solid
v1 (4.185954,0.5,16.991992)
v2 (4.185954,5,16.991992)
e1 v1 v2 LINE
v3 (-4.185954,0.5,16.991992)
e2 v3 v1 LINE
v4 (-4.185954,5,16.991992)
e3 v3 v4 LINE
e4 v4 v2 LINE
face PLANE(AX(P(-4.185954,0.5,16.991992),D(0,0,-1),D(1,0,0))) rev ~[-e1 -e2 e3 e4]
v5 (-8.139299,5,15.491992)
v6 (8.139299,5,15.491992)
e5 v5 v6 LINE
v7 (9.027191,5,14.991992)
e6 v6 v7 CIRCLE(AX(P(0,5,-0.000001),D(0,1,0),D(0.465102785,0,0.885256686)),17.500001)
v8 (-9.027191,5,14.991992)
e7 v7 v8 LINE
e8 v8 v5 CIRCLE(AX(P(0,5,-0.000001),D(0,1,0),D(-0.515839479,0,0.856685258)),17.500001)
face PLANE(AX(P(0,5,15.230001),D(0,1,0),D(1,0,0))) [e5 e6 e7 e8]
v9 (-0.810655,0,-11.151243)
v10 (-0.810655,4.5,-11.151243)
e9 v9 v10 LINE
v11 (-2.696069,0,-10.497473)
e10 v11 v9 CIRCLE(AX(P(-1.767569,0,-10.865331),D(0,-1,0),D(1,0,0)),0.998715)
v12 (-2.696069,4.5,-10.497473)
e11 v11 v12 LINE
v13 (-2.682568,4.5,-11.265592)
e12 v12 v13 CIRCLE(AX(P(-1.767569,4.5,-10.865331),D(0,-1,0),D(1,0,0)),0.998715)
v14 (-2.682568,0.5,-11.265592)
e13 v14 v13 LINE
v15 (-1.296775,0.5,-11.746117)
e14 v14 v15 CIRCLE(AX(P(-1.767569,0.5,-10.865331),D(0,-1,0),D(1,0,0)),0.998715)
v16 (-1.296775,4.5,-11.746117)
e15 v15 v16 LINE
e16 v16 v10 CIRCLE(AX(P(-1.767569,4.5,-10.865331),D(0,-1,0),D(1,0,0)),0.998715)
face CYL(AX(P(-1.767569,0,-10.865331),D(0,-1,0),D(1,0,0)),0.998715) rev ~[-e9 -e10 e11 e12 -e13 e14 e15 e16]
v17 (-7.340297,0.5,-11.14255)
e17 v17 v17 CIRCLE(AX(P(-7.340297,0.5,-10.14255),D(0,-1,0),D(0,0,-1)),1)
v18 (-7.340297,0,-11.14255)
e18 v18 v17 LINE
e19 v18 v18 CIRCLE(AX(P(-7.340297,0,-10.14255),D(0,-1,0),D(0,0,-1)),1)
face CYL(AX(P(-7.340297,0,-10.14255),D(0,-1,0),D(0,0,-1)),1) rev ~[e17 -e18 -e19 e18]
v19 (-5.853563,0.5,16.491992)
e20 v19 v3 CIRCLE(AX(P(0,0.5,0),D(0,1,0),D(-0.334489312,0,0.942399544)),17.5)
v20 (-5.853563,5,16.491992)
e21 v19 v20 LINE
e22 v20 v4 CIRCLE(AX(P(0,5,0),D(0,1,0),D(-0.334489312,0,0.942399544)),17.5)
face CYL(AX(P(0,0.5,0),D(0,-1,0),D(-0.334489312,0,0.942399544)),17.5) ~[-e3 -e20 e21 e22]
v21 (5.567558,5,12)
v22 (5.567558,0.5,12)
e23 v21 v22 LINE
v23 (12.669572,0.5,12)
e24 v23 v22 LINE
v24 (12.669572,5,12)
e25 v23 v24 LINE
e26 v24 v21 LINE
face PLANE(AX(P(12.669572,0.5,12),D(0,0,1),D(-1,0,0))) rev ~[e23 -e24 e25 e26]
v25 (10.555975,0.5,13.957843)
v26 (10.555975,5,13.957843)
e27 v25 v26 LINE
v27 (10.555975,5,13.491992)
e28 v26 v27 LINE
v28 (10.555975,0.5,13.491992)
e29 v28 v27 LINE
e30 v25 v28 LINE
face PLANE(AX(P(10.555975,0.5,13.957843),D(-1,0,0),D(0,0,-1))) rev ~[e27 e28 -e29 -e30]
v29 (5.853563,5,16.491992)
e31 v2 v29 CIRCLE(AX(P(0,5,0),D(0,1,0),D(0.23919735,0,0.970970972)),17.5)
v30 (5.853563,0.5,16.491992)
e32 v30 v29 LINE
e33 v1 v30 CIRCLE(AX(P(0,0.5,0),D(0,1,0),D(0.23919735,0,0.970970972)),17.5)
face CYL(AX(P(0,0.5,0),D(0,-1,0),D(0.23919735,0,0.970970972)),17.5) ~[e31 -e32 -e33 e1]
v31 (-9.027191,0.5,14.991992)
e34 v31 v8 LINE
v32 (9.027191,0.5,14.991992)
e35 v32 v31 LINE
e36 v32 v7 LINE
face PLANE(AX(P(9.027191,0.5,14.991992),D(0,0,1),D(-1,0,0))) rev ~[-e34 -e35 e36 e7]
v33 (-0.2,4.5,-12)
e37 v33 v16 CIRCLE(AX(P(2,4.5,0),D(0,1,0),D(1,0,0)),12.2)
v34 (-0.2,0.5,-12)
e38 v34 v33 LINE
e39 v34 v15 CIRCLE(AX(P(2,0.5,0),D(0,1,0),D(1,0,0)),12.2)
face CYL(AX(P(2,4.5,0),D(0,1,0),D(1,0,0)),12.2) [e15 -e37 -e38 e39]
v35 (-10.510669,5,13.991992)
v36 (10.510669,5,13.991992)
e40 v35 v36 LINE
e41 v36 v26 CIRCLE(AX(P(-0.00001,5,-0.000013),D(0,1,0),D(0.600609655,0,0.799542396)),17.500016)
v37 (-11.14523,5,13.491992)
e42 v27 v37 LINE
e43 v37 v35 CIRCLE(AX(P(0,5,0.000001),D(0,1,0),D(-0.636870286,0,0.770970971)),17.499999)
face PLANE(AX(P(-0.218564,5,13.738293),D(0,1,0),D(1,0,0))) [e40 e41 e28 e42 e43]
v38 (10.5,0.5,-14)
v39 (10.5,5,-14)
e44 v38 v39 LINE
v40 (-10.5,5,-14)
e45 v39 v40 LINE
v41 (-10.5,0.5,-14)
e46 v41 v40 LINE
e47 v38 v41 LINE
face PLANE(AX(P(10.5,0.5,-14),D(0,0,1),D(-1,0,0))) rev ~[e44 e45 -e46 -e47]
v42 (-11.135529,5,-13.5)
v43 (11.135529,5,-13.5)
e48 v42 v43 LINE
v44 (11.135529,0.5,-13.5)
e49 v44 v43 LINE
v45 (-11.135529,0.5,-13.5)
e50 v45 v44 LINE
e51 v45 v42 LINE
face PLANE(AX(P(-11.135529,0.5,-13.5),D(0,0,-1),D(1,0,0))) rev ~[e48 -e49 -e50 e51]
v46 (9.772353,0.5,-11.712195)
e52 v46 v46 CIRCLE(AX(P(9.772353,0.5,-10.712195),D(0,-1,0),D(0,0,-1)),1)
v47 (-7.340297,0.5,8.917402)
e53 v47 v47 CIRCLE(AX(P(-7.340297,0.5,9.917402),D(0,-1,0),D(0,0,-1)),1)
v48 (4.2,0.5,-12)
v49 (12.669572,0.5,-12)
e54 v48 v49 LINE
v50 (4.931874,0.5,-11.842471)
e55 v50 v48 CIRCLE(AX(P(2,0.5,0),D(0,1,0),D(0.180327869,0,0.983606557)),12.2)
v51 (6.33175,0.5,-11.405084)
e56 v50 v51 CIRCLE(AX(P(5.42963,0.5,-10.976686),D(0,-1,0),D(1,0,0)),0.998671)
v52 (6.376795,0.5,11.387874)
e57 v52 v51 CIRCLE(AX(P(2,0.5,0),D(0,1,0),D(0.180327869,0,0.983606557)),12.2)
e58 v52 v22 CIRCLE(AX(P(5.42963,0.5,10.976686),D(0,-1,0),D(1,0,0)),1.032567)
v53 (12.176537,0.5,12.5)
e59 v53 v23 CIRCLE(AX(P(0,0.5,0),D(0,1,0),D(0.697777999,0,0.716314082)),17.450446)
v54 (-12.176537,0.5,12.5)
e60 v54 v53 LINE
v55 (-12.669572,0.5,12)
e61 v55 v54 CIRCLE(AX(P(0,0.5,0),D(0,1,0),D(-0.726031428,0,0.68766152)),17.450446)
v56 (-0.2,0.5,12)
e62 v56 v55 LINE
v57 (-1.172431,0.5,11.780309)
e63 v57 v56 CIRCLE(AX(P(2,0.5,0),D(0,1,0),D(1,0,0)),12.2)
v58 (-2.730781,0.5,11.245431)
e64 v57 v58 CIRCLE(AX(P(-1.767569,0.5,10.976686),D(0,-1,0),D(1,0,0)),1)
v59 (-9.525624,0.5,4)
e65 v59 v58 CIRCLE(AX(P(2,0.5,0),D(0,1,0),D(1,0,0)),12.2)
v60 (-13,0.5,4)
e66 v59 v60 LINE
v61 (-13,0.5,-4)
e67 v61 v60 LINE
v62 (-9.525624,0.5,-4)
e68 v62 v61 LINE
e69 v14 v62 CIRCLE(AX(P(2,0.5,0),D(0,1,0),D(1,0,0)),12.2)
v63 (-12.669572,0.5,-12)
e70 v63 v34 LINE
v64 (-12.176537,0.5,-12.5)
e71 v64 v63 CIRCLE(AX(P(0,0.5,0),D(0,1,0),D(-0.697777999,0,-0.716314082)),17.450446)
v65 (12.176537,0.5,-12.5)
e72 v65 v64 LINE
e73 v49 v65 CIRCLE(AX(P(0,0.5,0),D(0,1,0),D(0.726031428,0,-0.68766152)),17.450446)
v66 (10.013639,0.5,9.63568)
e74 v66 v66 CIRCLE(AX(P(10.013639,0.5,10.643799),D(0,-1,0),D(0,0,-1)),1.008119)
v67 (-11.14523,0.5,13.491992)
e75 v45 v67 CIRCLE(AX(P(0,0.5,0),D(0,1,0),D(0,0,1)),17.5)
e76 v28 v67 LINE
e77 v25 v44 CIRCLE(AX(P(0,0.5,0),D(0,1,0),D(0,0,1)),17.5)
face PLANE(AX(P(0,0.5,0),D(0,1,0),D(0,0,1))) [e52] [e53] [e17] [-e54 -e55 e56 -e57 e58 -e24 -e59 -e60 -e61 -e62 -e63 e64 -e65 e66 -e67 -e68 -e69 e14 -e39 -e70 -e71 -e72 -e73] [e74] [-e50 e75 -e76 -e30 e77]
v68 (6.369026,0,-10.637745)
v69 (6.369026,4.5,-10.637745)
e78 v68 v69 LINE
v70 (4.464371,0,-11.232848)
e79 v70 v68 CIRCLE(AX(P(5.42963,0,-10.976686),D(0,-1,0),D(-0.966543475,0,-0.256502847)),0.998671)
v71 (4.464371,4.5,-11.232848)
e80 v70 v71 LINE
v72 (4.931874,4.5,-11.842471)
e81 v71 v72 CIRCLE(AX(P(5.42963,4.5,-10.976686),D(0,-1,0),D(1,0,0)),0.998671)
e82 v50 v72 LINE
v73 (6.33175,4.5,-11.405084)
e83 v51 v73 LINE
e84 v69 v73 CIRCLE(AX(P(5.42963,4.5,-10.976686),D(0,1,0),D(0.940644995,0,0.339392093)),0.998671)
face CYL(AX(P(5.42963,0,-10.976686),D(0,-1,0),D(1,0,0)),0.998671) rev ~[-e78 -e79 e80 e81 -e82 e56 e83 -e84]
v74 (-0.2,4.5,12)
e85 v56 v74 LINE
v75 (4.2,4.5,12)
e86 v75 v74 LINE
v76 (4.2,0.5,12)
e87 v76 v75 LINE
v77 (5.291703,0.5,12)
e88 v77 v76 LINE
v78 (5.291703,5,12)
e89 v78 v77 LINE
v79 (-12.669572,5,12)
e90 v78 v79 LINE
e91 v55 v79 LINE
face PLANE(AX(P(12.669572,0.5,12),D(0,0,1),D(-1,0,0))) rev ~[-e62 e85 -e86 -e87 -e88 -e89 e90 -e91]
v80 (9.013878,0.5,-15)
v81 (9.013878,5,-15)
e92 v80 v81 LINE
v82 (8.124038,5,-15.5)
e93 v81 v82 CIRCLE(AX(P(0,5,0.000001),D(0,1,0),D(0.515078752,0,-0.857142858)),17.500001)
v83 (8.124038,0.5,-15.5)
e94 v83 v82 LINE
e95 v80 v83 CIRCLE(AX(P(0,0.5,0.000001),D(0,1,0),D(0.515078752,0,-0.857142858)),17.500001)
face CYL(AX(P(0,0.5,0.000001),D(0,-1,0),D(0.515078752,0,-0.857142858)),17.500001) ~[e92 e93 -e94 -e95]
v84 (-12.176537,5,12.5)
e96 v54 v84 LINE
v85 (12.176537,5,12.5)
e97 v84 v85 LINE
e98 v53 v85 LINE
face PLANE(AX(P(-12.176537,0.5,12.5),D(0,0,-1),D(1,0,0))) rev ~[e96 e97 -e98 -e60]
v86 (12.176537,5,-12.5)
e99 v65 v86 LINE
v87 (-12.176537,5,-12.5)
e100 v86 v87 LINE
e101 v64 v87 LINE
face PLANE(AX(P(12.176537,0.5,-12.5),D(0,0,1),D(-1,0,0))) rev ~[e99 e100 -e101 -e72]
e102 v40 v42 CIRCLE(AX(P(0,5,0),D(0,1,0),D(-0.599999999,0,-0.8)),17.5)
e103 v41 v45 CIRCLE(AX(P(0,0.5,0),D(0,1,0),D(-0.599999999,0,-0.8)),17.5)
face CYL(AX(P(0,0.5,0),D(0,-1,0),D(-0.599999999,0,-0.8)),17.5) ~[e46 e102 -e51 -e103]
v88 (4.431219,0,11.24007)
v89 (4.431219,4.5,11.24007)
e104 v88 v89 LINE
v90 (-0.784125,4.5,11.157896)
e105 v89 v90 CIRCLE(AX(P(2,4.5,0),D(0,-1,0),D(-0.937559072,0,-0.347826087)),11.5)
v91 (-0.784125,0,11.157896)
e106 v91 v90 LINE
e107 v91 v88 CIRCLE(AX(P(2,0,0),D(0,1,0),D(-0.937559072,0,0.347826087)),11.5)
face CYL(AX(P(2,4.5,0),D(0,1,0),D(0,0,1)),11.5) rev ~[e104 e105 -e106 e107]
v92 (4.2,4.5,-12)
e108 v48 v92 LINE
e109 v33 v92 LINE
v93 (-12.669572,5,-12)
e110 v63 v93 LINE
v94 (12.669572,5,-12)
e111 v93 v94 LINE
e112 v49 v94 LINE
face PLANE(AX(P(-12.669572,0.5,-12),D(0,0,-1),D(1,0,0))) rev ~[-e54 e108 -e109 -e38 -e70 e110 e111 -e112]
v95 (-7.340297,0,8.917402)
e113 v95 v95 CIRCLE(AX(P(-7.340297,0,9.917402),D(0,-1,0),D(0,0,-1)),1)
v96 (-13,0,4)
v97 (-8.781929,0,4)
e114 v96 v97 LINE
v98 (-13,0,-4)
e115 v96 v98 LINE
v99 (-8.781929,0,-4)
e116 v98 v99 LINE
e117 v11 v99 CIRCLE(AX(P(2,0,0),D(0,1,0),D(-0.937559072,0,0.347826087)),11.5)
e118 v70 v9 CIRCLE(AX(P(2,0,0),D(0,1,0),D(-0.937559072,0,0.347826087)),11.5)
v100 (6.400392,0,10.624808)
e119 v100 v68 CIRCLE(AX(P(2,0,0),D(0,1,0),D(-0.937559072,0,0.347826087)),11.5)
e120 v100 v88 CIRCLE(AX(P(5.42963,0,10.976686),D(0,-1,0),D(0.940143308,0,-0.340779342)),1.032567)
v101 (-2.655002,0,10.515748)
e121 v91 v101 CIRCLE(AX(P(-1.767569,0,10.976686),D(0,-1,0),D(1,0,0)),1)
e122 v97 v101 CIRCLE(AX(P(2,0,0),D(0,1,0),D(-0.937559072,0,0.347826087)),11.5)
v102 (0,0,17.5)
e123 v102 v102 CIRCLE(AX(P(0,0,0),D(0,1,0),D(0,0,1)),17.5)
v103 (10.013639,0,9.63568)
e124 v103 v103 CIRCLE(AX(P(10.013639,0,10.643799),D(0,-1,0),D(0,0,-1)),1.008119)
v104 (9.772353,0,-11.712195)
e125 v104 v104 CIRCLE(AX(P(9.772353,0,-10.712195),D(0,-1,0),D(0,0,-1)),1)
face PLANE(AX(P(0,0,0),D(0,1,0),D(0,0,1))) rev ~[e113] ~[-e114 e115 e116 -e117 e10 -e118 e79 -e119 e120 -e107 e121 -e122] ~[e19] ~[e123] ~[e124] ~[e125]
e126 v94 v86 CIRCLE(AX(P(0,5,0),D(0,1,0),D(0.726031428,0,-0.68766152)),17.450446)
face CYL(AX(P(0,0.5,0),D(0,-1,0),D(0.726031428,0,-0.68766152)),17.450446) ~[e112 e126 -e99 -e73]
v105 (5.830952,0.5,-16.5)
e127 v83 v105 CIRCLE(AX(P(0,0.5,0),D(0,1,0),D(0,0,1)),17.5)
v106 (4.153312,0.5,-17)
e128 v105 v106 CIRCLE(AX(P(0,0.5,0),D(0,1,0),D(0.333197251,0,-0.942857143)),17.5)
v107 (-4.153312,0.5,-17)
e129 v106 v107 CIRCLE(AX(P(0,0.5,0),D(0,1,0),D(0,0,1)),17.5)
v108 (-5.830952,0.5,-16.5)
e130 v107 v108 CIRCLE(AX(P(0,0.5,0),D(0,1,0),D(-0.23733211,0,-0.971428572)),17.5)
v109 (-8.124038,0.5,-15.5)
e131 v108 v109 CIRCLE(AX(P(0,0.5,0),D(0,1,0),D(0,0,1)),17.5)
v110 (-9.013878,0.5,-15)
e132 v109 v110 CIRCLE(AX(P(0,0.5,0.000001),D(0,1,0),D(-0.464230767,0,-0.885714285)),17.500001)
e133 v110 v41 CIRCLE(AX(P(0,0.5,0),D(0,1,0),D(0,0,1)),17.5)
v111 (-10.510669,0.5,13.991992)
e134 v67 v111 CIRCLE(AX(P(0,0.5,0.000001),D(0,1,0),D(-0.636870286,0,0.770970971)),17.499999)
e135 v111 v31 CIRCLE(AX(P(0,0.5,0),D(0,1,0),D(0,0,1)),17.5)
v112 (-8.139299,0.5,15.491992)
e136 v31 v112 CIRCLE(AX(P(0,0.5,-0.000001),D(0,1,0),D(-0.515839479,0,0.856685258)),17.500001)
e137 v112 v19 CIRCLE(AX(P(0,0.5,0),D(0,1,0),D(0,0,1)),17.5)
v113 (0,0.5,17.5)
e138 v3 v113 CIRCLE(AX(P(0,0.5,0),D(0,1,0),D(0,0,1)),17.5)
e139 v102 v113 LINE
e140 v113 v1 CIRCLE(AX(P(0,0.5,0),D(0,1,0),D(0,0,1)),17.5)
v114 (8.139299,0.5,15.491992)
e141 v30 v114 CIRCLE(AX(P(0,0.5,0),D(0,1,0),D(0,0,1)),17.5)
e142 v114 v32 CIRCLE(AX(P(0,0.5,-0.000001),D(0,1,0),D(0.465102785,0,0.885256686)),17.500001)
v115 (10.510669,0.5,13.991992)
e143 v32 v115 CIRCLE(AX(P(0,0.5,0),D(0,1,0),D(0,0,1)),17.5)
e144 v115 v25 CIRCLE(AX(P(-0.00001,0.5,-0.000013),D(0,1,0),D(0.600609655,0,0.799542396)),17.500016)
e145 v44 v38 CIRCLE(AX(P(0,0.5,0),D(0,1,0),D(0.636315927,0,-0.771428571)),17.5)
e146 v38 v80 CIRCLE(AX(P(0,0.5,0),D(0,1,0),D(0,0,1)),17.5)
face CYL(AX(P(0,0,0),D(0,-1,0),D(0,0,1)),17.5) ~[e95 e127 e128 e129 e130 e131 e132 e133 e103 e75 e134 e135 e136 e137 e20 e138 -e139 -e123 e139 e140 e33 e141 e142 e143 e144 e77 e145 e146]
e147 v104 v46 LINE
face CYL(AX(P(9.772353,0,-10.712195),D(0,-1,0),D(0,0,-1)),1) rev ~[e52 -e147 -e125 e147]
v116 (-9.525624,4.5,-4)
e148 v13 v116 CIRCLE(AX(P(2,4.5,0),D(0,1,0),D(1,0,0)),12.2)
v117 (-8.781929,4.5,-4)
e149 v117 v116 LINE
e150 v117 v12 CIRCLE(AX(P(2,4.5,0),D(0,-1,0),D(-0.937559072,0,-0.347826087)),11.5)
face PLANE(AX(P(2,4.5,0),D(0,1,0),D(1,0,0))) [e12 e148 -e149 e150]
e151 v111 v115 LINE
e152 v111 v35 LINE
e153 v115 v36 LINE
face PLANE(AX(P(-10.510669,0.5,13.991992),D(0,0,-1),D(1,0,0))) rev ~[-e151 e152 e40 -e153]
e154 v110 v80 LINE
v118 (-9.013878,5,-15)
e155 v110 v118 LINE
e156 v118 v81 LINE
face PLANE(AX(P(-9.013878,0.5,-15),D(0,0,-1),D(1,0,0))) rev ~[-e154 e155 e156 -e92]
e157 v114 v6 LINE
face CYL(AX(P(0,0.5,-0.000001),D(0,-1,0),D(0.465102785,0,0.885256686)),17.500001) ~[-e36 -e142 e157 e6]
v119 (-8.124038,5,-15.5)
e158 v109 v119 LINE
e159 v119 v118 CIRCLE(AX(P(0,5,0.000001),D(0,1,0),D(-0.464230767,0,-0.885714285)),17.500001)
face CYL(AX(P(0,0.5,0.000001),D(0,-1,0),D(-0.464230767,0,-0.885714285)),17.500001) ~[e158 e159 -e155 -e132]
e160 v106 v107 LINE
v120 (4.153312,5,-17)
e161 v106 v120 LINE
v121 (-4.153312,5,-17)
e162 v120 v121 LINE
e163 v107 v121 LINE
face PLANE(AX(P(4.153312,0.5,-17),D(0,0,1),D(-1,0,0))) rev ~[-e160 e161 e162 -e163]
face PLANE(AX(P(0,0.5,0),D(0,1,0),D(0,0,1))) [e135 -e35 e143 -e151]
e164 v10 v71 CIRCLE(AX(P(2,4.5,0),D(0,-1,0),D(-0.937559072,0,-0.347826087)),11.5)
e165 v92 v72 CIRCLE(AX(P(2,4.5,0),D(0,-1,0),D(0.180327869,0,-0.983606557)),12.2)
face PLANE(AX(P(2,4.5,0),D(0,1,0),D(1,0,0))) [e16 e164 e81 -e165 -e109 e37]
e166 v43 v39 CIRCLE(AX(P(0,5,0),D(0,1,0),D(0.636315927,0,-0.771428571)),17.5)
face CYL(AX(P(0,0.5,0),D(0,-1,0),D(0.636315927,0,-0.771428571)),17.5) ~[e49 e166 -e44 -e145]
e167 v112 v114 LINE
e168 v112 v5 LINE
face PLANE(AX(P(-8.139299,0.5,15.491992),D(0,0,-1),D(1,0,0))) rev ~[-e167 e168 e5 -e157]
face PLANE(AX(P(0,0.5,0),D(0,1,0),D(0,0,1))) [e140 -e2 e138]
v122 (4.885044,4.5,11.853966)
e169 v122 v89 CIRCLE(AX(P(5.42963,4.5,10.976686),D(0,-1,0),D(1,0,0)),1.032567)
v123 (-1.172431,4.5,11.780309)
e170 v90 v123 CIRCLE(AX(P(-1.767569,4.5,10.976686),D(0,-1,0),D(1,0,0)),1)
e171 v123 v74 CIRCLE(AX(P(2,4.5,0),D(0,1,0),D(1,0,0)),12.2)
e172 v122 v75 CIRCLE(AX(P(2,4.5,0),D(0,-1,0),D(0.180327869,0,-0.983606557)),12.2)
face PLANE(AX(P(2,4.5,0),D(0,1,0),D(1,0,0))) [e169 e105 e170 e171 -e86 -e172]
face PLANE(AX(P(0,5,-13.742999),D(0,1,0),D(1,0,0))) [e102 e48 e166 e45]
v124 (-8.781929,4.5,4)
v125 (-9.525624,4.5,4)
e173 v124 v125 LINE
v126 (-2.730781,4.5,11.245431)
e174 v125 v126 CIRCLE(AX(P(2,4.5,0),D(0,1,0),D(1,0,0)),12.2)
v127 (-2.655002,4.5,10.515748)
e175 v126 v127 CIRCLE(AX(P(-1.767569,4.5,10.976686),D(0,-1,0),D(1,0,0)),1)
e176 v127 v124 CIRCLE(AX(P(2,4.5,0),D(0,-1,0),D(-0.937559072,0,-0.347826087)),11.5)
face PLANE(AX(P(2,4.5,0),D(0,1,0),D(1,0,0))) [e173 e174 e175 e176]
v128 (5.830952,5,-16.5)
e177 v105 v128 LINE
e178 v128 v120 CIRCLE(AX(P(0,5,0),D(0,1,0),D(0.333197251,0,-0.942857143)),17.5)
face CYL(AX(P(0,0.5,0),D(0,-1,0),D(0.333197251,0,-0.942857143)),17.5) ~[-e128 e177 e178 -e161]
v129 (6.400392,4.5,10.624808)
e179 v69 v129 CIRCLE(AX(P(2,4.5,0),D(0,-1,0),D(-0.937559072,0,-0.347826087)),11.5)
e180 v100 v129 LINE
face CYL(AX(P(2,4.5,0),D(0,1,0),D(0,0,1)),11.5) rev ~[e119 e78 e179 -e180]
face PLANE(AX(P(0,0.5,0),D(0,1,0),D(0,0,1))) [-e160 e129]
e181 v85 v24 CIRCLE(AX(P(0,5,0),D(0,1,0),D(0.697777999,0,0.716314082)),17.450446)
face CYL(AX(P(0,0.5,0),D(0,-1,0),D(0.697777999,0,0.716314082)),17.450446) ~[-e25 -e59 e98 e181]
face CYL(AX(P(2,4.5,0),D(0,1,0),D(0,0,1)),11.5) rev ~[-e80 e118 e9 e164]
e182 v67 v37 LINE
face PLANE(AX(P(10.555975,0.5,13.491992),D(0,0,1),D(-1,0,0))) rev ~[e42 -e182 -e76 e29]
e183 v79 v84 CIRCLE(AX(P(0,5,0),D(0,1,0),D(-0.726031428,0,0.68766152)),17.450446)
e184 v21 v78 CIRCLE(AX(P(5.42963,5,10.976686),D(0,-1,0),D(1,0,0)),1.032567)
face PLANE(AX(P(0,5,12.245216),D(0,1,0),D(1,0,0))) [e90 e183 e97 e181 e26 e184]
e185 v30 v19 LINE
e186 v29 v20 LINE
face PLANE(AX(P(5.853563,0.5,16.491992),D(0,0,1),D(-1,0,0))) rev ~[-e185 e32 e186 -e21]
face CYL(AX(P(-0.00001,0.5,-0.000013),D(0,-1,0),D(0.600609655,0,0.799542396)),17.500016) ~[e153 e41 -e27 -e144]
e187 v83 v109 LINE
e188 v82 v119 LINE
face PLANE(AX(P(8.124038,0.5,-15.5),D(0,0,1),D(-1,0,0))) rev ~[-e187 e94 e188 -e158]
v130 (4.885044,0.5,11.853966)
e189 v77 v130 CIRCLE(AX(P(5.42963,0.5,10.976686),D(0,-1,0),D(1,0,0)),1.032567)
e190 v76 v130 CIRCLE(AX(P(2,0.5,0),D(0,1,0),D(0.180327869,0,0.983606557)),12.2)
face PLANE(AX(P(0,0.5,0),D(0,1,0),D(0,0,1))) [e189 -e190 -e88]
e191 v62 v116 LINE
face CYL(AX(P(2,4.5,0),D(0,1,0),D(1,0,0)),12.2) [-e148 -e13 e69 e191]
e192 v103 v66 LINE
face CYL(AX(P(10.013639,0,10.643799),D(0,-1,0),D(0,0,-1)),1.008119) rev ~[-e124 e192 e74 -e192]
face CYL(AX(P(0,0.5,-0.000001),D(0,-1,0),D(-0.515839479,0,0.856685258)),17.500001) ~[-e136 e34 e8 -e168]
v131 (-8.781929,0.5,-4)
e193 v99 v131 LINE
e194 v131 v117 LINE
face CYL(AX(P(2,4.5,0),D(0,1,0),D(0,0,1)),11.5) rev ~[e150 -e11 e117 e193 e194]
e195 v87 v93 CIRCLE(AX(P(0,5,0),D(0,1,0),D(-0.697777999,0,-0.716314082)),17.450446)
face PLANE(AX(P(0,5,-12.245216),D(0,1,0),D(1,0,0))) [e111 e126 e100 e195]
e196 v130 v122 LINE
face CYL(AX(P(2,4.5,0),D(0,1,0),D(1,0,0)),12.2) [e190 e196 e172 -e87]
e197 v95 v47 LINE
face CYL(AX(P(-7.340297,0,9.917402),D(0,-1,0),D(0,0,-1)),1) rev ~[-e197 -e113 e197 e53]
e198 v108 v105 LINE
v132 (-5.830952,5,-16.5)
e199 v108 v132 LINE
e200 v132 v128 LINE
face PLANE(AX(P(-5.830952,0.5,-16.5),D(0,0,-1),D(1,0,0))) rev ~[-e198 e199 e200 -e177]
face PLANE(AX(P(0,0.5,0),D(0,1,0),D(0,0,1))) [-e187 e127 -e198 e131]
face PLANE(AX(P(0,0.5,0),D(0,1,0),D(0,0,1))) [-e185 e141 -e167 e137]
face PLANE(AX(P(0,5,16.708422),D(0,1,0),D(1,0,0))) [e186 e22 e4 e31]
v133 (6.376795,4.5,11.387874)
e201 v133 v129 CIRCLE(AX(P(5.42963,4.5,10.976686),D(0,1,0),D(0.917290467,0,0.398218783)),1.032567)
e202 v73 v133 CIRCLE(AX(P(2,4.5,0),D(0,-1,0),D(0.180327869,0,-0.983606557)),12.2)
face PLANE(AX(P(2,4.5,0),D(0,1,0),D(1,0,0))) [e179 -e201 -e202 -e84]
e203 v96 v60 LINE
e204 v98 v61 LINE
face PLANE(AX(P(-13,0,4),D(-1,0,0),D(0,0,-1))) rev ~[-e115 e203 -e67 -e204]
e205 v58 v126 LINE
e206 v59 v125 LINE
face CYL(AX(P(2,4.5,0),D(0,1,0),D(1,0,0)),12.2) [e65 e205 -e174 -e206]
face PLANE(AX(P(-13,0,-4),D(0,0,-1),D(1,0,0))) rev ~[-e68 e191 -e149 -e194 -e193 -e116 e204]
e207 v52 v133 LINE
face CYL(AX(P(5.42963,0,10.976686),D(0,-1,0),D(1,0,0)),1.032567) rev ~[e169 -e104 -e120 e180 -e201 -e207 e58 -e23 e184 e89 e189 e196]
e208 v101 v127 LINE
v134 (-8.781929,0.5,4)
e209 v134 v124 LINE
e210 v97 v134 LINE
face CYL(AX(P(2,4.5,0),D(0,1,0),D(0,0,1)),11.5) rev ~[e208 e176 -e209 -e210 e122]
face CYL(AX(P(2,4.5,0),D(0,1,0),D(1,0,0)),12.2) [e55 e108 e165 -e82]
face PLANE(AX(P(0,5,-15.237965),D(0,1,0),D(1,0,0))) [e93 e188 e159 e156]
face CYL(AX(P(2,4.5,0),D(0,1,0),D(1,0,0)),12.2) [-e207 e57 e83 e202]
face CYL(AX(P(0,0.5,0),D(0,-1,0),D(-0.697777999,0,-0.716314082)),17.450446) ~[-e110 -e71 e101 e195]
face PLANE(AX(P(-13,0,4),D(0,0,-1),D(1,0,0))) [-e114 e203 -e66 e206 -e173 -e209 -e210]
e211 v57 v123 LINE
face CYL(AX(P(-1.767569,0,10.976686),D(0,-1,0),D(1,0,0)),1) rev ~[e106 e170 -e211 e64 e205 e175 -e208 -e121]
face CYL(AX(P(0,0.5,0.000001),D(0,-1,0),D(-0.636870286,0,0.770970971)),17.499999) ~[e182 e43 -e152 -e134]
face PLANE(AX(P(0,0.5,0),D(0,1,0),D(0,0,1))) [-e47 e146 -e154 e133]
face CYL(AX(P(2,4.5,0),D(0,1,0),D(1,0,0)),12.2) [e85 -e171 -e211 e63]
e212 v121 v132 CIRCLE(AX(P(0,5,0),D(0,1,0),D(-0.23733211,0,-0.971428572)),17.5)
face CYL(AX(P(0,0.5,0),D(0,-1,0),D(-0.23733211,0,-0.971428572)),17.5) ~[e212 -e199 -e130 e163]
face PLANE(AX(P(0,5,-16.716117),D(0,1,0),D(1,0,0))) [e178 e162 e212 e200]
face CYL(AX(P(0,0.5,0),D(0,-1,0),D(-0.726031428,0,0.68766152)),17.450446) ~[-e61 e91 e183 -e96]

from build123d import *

# Parameters (mm, degrees)
SKETCH1_R           = 17.5
BOSS_EXTRUDE1_DEPTH = 0.5
SKETCH2_R           = 11.5
CUT_EXTRUDE1_DEPTH  = 0.5
SKETCH3_W           = 15
SKETCH3_H           = 8
CUT_EXTRUDE4_DEPTH  = 2.5
BOSS_EXTRUDE6_DEPTH = 4.5
BOSS_EXTRUDE7_START = 4
SKETCH9_R           = 12.2
SKETCH9_R_2         = 11.5
BOSS_EXTRUDE7_DEPTH = 4
SKETCH10_W          = 4.218070674
SKETCH10_H          = 8
CUT_EXTRUDE5_DEPTH  = 6
SKETCH11_R          = 1
SKETCH11_R_2        = 0.998714777
SKETCH11_R_3        = 0.998671431
SKETCH11_R_4        = 1.032567444
SKETCH11_R_5        = 1.008118798
CUT_EXTRUDE7_DEPTH  = 100


with BuildPart() as part:
    # Sketch1 → Boss-Extrude1 (new body)
    with BuildSketch(Plane(origin=(0, 0, 0), x_dir=(1, 0, 0), z_dir=(0, 1, 0))):
        with Locations(Location((0, 0, 0), (0, 0, 270))):
            Circle(SKETCH1_R)
    extrude(amount=BOSS_EXTRUDE1_DEPTH)

    # Sketch2 → Cut-Extrude1 (cut)
    with BuildSketch(Plane(origin=(0, 0.5, 0), x_dir=(1, 0, 0), z_dir=(0, 1, 0))):
        with Locations(Location((2, 0, 0), (0, 0, 270))):
            Circle(SKETCH2_R)
    extrude(amount=-CUT_EXTRUDE1_DEPTH, mode=Mode.SUBTRACT)

    # Sketch3 → Cut-Extrude4 (cut)
    with BuildSketch(Plane(origin=(0, 0, 0), x_dir=(1, 0, 0), z_dir=(0, 1, 0))):
        with Locations((-5.5, 0)):
            Rectangle(SKETCH3_W, SKETCH3_H)
    extrude(amount=CUT_EXTRUDE4_DEPTH, mode=Mode.SUBTRACT)

    # Sketch7 → Boss-Extrude6 (add)
    with BuildSketch(Plane(origin=(0, 0.5, 0), x_dir=(1, 0, 0), z_dir=(0, 1, 0))):
        with BuildLine():
            Line((-11.135528726, 13.5), (11.135528726, 13.5))
            ThreePointArc((11.135528726, 13.5), (10.820652744, 13.753671299), (10.5, 14))
            Line((10.5, 14), (-10.5, 14))
            ThreePointArc((-10.5, 14), (-10.820652744, 13.753671299), (-11.135528726, 13.5))
        make_face()
        with BuildLine():
            Line((12.176537068, 12.5), (-12.176537068, 12.5))
            ThreePointArc((-12.176537068, 12.5), (-12.42556977, 12.252480192), (-12.669572012, 12))
            Line((-12.669572012, 12), (12.669572012, 12))
            ThreePointArc((12.669572012, 12), (12.42556977, 12.252480192), (12.176537068, 12.5))
        make_face()
        with BuildLine():
            ThreePointArc((-11.145229996, -13.491992008), (-10.830835088, -13.74565427), (-10.510668849, -13.991992008))
            Line((-10.510668849, -13.991992008), (10.510668849, -13.991992008))
            ThreePointArc((10.510668849, -13.991992008), (10.53333572, -13.974936086), (10.555974914, -13.957843444))
            Line((10.555974914, -13.957843444), (10.555974914, -13.491992008))
            Line((10.555974914, -13.491992008), (-11.145229996, -13.491992008))
        make_face()
        with BuildLine():
            Line((-9.013878189, 15), (9.013878189, 15))
            ThreePointArc((9.013878189, 15), (8.572604405, 15.256488905), (8.124038405, 15.5))
            Line((8.124038405, 15.5), (-8.124038405, 15.5))
            ThreePointArc((-8.124038405, 15.5), (-8.572604405, 15.256488905), (-9.013878189, 15))
        make_face()
        with BuildLine():
            ThreePointArc((-9.027190906, -14.991992008), (-8.586884855, -15.248455938), (-8.139298719, -15.491992008))
            Line((-8.139298719, -15.491992008), (8.139298719, -15.491992008))
            ThreePointArc((8.139298719, -15.491992008), (8.586884855, -15.248455938), (9.027190906, -14.991992008))
            Line((9.027190906, -14.991992008), (-9.027190906, -14.991992008))
        make_face()
        with BuildLine():
            Line((-5.830951895, 16.5), (5.830951895, 16.5))
            ThreePointArc((5.830951895, 16.5), (4.998387844, 16.770990399), (4.153311931, 17))
            Line((4.153311931, 17), (-4.153311931, 17))
            ThreePointArc((-4.153311931, 17), (-4.998387844, 16.770990399), (-5.830951895, 16.5))
        make_face()
        with BuildLine():
            Line((5.853562985, -16.491992008), (-5.853562985, -16.491992008))
            ThreePointArc((-5.853562985, -16.491992008), (-5.025979841, -16.762742217), (-4.185953609, -16.991992008))
            Line((-4.185953609, -16.991992008), (4.185953609, -16.991992008))
            ThreePointArc((4.185953609, -16.991992008), (5.025979841, -16.762742217), (5.853562985, -16.491992008))
        make_face()
        with BuildLine():
            Line((12.669572012, -12), (-12.669572012, -12))
            ThreePointArc((-12.669572012, -12), (-12.42556977, -12.252480192), (-12.176537068, -12.5))
            Line((-12.176537068, -12.5), (12.176537068, -12.5))
            ThreePointArc((12.176537068, -12.5), (12.42556977, -12.252480192), (12.669572012, -12))
        make_face()
    extrude(amount=BOSS_EXTRUDE6_DEPTH)

    # Sketch9 → Boss-Extrude7 (add)
    with BuildSketch(Plane(origin=(0, 0.5, 0), x_dir=(1, 0, 0), z_dir=(0, 1, 0)).offset(BOSS_EXTRUDE7_START)):
        with Locations((2, 0)):
            Circle(SKETCH9_R)
        with Locations(Location((2, 0, 0), (0, 0, 270))):
            Circle(SKETCH9_R_2, mode=Mode.SUBTRACT)
    extrude(amount=-BOSS_EXTRUDE7_DEPTH)

    # Sketch10 → Cut-Extrude5 (cut)
    with BuildSketch(Plane.XZ):
        with Locations((-10.890964663, 0)):
            Rectangle(SKETCH10_W, SKETCH10_H)
    extrude(amount=-CUT_EXTRUDE5_DEPTH, mode=Mode.SUBTRACT)

    # Sketch11 → Cut-Extrude7 (cut)
    with BuildSketch(Plane.XZ):
        with Locations(Location((-7.340296828, -10.142549821, 0), (0, 0, 270))):
            Circle(SKETCH11_R)
        with Locations((-1.767569388, -10.865331146)):
            Circle(SKETCH11_R_2)
        with Locations((5.429630438, -10.976685978)):
            Circle(SKETCH11_R_3)
        with Locations(Location((-7.340296828, 9.917402438, 0), (0, 0, 270))):
            Circle(SKETCH11_R)
        with Locations((5.429630438, 10.976685978)):
            Circle(SKETCH11_R_4)
        with Locations((-1.767569388, 10.976685978)):
            Circle(SKETCH11_R)
        with Locations(Location((10.013638897, 10.643798729, 0), (0, 0, 270))):
            Circle(SKETCH11_R_5)
        with Locations(Location((9.772353005, -10.712194768, 0), (0, 0, 270))):
            Circle(SKETCH11_R)
    extrude(amount=-CUT_EXTRUDE7_DEPTH, mode=Mode.SUBTRACT)


solid = part.part
